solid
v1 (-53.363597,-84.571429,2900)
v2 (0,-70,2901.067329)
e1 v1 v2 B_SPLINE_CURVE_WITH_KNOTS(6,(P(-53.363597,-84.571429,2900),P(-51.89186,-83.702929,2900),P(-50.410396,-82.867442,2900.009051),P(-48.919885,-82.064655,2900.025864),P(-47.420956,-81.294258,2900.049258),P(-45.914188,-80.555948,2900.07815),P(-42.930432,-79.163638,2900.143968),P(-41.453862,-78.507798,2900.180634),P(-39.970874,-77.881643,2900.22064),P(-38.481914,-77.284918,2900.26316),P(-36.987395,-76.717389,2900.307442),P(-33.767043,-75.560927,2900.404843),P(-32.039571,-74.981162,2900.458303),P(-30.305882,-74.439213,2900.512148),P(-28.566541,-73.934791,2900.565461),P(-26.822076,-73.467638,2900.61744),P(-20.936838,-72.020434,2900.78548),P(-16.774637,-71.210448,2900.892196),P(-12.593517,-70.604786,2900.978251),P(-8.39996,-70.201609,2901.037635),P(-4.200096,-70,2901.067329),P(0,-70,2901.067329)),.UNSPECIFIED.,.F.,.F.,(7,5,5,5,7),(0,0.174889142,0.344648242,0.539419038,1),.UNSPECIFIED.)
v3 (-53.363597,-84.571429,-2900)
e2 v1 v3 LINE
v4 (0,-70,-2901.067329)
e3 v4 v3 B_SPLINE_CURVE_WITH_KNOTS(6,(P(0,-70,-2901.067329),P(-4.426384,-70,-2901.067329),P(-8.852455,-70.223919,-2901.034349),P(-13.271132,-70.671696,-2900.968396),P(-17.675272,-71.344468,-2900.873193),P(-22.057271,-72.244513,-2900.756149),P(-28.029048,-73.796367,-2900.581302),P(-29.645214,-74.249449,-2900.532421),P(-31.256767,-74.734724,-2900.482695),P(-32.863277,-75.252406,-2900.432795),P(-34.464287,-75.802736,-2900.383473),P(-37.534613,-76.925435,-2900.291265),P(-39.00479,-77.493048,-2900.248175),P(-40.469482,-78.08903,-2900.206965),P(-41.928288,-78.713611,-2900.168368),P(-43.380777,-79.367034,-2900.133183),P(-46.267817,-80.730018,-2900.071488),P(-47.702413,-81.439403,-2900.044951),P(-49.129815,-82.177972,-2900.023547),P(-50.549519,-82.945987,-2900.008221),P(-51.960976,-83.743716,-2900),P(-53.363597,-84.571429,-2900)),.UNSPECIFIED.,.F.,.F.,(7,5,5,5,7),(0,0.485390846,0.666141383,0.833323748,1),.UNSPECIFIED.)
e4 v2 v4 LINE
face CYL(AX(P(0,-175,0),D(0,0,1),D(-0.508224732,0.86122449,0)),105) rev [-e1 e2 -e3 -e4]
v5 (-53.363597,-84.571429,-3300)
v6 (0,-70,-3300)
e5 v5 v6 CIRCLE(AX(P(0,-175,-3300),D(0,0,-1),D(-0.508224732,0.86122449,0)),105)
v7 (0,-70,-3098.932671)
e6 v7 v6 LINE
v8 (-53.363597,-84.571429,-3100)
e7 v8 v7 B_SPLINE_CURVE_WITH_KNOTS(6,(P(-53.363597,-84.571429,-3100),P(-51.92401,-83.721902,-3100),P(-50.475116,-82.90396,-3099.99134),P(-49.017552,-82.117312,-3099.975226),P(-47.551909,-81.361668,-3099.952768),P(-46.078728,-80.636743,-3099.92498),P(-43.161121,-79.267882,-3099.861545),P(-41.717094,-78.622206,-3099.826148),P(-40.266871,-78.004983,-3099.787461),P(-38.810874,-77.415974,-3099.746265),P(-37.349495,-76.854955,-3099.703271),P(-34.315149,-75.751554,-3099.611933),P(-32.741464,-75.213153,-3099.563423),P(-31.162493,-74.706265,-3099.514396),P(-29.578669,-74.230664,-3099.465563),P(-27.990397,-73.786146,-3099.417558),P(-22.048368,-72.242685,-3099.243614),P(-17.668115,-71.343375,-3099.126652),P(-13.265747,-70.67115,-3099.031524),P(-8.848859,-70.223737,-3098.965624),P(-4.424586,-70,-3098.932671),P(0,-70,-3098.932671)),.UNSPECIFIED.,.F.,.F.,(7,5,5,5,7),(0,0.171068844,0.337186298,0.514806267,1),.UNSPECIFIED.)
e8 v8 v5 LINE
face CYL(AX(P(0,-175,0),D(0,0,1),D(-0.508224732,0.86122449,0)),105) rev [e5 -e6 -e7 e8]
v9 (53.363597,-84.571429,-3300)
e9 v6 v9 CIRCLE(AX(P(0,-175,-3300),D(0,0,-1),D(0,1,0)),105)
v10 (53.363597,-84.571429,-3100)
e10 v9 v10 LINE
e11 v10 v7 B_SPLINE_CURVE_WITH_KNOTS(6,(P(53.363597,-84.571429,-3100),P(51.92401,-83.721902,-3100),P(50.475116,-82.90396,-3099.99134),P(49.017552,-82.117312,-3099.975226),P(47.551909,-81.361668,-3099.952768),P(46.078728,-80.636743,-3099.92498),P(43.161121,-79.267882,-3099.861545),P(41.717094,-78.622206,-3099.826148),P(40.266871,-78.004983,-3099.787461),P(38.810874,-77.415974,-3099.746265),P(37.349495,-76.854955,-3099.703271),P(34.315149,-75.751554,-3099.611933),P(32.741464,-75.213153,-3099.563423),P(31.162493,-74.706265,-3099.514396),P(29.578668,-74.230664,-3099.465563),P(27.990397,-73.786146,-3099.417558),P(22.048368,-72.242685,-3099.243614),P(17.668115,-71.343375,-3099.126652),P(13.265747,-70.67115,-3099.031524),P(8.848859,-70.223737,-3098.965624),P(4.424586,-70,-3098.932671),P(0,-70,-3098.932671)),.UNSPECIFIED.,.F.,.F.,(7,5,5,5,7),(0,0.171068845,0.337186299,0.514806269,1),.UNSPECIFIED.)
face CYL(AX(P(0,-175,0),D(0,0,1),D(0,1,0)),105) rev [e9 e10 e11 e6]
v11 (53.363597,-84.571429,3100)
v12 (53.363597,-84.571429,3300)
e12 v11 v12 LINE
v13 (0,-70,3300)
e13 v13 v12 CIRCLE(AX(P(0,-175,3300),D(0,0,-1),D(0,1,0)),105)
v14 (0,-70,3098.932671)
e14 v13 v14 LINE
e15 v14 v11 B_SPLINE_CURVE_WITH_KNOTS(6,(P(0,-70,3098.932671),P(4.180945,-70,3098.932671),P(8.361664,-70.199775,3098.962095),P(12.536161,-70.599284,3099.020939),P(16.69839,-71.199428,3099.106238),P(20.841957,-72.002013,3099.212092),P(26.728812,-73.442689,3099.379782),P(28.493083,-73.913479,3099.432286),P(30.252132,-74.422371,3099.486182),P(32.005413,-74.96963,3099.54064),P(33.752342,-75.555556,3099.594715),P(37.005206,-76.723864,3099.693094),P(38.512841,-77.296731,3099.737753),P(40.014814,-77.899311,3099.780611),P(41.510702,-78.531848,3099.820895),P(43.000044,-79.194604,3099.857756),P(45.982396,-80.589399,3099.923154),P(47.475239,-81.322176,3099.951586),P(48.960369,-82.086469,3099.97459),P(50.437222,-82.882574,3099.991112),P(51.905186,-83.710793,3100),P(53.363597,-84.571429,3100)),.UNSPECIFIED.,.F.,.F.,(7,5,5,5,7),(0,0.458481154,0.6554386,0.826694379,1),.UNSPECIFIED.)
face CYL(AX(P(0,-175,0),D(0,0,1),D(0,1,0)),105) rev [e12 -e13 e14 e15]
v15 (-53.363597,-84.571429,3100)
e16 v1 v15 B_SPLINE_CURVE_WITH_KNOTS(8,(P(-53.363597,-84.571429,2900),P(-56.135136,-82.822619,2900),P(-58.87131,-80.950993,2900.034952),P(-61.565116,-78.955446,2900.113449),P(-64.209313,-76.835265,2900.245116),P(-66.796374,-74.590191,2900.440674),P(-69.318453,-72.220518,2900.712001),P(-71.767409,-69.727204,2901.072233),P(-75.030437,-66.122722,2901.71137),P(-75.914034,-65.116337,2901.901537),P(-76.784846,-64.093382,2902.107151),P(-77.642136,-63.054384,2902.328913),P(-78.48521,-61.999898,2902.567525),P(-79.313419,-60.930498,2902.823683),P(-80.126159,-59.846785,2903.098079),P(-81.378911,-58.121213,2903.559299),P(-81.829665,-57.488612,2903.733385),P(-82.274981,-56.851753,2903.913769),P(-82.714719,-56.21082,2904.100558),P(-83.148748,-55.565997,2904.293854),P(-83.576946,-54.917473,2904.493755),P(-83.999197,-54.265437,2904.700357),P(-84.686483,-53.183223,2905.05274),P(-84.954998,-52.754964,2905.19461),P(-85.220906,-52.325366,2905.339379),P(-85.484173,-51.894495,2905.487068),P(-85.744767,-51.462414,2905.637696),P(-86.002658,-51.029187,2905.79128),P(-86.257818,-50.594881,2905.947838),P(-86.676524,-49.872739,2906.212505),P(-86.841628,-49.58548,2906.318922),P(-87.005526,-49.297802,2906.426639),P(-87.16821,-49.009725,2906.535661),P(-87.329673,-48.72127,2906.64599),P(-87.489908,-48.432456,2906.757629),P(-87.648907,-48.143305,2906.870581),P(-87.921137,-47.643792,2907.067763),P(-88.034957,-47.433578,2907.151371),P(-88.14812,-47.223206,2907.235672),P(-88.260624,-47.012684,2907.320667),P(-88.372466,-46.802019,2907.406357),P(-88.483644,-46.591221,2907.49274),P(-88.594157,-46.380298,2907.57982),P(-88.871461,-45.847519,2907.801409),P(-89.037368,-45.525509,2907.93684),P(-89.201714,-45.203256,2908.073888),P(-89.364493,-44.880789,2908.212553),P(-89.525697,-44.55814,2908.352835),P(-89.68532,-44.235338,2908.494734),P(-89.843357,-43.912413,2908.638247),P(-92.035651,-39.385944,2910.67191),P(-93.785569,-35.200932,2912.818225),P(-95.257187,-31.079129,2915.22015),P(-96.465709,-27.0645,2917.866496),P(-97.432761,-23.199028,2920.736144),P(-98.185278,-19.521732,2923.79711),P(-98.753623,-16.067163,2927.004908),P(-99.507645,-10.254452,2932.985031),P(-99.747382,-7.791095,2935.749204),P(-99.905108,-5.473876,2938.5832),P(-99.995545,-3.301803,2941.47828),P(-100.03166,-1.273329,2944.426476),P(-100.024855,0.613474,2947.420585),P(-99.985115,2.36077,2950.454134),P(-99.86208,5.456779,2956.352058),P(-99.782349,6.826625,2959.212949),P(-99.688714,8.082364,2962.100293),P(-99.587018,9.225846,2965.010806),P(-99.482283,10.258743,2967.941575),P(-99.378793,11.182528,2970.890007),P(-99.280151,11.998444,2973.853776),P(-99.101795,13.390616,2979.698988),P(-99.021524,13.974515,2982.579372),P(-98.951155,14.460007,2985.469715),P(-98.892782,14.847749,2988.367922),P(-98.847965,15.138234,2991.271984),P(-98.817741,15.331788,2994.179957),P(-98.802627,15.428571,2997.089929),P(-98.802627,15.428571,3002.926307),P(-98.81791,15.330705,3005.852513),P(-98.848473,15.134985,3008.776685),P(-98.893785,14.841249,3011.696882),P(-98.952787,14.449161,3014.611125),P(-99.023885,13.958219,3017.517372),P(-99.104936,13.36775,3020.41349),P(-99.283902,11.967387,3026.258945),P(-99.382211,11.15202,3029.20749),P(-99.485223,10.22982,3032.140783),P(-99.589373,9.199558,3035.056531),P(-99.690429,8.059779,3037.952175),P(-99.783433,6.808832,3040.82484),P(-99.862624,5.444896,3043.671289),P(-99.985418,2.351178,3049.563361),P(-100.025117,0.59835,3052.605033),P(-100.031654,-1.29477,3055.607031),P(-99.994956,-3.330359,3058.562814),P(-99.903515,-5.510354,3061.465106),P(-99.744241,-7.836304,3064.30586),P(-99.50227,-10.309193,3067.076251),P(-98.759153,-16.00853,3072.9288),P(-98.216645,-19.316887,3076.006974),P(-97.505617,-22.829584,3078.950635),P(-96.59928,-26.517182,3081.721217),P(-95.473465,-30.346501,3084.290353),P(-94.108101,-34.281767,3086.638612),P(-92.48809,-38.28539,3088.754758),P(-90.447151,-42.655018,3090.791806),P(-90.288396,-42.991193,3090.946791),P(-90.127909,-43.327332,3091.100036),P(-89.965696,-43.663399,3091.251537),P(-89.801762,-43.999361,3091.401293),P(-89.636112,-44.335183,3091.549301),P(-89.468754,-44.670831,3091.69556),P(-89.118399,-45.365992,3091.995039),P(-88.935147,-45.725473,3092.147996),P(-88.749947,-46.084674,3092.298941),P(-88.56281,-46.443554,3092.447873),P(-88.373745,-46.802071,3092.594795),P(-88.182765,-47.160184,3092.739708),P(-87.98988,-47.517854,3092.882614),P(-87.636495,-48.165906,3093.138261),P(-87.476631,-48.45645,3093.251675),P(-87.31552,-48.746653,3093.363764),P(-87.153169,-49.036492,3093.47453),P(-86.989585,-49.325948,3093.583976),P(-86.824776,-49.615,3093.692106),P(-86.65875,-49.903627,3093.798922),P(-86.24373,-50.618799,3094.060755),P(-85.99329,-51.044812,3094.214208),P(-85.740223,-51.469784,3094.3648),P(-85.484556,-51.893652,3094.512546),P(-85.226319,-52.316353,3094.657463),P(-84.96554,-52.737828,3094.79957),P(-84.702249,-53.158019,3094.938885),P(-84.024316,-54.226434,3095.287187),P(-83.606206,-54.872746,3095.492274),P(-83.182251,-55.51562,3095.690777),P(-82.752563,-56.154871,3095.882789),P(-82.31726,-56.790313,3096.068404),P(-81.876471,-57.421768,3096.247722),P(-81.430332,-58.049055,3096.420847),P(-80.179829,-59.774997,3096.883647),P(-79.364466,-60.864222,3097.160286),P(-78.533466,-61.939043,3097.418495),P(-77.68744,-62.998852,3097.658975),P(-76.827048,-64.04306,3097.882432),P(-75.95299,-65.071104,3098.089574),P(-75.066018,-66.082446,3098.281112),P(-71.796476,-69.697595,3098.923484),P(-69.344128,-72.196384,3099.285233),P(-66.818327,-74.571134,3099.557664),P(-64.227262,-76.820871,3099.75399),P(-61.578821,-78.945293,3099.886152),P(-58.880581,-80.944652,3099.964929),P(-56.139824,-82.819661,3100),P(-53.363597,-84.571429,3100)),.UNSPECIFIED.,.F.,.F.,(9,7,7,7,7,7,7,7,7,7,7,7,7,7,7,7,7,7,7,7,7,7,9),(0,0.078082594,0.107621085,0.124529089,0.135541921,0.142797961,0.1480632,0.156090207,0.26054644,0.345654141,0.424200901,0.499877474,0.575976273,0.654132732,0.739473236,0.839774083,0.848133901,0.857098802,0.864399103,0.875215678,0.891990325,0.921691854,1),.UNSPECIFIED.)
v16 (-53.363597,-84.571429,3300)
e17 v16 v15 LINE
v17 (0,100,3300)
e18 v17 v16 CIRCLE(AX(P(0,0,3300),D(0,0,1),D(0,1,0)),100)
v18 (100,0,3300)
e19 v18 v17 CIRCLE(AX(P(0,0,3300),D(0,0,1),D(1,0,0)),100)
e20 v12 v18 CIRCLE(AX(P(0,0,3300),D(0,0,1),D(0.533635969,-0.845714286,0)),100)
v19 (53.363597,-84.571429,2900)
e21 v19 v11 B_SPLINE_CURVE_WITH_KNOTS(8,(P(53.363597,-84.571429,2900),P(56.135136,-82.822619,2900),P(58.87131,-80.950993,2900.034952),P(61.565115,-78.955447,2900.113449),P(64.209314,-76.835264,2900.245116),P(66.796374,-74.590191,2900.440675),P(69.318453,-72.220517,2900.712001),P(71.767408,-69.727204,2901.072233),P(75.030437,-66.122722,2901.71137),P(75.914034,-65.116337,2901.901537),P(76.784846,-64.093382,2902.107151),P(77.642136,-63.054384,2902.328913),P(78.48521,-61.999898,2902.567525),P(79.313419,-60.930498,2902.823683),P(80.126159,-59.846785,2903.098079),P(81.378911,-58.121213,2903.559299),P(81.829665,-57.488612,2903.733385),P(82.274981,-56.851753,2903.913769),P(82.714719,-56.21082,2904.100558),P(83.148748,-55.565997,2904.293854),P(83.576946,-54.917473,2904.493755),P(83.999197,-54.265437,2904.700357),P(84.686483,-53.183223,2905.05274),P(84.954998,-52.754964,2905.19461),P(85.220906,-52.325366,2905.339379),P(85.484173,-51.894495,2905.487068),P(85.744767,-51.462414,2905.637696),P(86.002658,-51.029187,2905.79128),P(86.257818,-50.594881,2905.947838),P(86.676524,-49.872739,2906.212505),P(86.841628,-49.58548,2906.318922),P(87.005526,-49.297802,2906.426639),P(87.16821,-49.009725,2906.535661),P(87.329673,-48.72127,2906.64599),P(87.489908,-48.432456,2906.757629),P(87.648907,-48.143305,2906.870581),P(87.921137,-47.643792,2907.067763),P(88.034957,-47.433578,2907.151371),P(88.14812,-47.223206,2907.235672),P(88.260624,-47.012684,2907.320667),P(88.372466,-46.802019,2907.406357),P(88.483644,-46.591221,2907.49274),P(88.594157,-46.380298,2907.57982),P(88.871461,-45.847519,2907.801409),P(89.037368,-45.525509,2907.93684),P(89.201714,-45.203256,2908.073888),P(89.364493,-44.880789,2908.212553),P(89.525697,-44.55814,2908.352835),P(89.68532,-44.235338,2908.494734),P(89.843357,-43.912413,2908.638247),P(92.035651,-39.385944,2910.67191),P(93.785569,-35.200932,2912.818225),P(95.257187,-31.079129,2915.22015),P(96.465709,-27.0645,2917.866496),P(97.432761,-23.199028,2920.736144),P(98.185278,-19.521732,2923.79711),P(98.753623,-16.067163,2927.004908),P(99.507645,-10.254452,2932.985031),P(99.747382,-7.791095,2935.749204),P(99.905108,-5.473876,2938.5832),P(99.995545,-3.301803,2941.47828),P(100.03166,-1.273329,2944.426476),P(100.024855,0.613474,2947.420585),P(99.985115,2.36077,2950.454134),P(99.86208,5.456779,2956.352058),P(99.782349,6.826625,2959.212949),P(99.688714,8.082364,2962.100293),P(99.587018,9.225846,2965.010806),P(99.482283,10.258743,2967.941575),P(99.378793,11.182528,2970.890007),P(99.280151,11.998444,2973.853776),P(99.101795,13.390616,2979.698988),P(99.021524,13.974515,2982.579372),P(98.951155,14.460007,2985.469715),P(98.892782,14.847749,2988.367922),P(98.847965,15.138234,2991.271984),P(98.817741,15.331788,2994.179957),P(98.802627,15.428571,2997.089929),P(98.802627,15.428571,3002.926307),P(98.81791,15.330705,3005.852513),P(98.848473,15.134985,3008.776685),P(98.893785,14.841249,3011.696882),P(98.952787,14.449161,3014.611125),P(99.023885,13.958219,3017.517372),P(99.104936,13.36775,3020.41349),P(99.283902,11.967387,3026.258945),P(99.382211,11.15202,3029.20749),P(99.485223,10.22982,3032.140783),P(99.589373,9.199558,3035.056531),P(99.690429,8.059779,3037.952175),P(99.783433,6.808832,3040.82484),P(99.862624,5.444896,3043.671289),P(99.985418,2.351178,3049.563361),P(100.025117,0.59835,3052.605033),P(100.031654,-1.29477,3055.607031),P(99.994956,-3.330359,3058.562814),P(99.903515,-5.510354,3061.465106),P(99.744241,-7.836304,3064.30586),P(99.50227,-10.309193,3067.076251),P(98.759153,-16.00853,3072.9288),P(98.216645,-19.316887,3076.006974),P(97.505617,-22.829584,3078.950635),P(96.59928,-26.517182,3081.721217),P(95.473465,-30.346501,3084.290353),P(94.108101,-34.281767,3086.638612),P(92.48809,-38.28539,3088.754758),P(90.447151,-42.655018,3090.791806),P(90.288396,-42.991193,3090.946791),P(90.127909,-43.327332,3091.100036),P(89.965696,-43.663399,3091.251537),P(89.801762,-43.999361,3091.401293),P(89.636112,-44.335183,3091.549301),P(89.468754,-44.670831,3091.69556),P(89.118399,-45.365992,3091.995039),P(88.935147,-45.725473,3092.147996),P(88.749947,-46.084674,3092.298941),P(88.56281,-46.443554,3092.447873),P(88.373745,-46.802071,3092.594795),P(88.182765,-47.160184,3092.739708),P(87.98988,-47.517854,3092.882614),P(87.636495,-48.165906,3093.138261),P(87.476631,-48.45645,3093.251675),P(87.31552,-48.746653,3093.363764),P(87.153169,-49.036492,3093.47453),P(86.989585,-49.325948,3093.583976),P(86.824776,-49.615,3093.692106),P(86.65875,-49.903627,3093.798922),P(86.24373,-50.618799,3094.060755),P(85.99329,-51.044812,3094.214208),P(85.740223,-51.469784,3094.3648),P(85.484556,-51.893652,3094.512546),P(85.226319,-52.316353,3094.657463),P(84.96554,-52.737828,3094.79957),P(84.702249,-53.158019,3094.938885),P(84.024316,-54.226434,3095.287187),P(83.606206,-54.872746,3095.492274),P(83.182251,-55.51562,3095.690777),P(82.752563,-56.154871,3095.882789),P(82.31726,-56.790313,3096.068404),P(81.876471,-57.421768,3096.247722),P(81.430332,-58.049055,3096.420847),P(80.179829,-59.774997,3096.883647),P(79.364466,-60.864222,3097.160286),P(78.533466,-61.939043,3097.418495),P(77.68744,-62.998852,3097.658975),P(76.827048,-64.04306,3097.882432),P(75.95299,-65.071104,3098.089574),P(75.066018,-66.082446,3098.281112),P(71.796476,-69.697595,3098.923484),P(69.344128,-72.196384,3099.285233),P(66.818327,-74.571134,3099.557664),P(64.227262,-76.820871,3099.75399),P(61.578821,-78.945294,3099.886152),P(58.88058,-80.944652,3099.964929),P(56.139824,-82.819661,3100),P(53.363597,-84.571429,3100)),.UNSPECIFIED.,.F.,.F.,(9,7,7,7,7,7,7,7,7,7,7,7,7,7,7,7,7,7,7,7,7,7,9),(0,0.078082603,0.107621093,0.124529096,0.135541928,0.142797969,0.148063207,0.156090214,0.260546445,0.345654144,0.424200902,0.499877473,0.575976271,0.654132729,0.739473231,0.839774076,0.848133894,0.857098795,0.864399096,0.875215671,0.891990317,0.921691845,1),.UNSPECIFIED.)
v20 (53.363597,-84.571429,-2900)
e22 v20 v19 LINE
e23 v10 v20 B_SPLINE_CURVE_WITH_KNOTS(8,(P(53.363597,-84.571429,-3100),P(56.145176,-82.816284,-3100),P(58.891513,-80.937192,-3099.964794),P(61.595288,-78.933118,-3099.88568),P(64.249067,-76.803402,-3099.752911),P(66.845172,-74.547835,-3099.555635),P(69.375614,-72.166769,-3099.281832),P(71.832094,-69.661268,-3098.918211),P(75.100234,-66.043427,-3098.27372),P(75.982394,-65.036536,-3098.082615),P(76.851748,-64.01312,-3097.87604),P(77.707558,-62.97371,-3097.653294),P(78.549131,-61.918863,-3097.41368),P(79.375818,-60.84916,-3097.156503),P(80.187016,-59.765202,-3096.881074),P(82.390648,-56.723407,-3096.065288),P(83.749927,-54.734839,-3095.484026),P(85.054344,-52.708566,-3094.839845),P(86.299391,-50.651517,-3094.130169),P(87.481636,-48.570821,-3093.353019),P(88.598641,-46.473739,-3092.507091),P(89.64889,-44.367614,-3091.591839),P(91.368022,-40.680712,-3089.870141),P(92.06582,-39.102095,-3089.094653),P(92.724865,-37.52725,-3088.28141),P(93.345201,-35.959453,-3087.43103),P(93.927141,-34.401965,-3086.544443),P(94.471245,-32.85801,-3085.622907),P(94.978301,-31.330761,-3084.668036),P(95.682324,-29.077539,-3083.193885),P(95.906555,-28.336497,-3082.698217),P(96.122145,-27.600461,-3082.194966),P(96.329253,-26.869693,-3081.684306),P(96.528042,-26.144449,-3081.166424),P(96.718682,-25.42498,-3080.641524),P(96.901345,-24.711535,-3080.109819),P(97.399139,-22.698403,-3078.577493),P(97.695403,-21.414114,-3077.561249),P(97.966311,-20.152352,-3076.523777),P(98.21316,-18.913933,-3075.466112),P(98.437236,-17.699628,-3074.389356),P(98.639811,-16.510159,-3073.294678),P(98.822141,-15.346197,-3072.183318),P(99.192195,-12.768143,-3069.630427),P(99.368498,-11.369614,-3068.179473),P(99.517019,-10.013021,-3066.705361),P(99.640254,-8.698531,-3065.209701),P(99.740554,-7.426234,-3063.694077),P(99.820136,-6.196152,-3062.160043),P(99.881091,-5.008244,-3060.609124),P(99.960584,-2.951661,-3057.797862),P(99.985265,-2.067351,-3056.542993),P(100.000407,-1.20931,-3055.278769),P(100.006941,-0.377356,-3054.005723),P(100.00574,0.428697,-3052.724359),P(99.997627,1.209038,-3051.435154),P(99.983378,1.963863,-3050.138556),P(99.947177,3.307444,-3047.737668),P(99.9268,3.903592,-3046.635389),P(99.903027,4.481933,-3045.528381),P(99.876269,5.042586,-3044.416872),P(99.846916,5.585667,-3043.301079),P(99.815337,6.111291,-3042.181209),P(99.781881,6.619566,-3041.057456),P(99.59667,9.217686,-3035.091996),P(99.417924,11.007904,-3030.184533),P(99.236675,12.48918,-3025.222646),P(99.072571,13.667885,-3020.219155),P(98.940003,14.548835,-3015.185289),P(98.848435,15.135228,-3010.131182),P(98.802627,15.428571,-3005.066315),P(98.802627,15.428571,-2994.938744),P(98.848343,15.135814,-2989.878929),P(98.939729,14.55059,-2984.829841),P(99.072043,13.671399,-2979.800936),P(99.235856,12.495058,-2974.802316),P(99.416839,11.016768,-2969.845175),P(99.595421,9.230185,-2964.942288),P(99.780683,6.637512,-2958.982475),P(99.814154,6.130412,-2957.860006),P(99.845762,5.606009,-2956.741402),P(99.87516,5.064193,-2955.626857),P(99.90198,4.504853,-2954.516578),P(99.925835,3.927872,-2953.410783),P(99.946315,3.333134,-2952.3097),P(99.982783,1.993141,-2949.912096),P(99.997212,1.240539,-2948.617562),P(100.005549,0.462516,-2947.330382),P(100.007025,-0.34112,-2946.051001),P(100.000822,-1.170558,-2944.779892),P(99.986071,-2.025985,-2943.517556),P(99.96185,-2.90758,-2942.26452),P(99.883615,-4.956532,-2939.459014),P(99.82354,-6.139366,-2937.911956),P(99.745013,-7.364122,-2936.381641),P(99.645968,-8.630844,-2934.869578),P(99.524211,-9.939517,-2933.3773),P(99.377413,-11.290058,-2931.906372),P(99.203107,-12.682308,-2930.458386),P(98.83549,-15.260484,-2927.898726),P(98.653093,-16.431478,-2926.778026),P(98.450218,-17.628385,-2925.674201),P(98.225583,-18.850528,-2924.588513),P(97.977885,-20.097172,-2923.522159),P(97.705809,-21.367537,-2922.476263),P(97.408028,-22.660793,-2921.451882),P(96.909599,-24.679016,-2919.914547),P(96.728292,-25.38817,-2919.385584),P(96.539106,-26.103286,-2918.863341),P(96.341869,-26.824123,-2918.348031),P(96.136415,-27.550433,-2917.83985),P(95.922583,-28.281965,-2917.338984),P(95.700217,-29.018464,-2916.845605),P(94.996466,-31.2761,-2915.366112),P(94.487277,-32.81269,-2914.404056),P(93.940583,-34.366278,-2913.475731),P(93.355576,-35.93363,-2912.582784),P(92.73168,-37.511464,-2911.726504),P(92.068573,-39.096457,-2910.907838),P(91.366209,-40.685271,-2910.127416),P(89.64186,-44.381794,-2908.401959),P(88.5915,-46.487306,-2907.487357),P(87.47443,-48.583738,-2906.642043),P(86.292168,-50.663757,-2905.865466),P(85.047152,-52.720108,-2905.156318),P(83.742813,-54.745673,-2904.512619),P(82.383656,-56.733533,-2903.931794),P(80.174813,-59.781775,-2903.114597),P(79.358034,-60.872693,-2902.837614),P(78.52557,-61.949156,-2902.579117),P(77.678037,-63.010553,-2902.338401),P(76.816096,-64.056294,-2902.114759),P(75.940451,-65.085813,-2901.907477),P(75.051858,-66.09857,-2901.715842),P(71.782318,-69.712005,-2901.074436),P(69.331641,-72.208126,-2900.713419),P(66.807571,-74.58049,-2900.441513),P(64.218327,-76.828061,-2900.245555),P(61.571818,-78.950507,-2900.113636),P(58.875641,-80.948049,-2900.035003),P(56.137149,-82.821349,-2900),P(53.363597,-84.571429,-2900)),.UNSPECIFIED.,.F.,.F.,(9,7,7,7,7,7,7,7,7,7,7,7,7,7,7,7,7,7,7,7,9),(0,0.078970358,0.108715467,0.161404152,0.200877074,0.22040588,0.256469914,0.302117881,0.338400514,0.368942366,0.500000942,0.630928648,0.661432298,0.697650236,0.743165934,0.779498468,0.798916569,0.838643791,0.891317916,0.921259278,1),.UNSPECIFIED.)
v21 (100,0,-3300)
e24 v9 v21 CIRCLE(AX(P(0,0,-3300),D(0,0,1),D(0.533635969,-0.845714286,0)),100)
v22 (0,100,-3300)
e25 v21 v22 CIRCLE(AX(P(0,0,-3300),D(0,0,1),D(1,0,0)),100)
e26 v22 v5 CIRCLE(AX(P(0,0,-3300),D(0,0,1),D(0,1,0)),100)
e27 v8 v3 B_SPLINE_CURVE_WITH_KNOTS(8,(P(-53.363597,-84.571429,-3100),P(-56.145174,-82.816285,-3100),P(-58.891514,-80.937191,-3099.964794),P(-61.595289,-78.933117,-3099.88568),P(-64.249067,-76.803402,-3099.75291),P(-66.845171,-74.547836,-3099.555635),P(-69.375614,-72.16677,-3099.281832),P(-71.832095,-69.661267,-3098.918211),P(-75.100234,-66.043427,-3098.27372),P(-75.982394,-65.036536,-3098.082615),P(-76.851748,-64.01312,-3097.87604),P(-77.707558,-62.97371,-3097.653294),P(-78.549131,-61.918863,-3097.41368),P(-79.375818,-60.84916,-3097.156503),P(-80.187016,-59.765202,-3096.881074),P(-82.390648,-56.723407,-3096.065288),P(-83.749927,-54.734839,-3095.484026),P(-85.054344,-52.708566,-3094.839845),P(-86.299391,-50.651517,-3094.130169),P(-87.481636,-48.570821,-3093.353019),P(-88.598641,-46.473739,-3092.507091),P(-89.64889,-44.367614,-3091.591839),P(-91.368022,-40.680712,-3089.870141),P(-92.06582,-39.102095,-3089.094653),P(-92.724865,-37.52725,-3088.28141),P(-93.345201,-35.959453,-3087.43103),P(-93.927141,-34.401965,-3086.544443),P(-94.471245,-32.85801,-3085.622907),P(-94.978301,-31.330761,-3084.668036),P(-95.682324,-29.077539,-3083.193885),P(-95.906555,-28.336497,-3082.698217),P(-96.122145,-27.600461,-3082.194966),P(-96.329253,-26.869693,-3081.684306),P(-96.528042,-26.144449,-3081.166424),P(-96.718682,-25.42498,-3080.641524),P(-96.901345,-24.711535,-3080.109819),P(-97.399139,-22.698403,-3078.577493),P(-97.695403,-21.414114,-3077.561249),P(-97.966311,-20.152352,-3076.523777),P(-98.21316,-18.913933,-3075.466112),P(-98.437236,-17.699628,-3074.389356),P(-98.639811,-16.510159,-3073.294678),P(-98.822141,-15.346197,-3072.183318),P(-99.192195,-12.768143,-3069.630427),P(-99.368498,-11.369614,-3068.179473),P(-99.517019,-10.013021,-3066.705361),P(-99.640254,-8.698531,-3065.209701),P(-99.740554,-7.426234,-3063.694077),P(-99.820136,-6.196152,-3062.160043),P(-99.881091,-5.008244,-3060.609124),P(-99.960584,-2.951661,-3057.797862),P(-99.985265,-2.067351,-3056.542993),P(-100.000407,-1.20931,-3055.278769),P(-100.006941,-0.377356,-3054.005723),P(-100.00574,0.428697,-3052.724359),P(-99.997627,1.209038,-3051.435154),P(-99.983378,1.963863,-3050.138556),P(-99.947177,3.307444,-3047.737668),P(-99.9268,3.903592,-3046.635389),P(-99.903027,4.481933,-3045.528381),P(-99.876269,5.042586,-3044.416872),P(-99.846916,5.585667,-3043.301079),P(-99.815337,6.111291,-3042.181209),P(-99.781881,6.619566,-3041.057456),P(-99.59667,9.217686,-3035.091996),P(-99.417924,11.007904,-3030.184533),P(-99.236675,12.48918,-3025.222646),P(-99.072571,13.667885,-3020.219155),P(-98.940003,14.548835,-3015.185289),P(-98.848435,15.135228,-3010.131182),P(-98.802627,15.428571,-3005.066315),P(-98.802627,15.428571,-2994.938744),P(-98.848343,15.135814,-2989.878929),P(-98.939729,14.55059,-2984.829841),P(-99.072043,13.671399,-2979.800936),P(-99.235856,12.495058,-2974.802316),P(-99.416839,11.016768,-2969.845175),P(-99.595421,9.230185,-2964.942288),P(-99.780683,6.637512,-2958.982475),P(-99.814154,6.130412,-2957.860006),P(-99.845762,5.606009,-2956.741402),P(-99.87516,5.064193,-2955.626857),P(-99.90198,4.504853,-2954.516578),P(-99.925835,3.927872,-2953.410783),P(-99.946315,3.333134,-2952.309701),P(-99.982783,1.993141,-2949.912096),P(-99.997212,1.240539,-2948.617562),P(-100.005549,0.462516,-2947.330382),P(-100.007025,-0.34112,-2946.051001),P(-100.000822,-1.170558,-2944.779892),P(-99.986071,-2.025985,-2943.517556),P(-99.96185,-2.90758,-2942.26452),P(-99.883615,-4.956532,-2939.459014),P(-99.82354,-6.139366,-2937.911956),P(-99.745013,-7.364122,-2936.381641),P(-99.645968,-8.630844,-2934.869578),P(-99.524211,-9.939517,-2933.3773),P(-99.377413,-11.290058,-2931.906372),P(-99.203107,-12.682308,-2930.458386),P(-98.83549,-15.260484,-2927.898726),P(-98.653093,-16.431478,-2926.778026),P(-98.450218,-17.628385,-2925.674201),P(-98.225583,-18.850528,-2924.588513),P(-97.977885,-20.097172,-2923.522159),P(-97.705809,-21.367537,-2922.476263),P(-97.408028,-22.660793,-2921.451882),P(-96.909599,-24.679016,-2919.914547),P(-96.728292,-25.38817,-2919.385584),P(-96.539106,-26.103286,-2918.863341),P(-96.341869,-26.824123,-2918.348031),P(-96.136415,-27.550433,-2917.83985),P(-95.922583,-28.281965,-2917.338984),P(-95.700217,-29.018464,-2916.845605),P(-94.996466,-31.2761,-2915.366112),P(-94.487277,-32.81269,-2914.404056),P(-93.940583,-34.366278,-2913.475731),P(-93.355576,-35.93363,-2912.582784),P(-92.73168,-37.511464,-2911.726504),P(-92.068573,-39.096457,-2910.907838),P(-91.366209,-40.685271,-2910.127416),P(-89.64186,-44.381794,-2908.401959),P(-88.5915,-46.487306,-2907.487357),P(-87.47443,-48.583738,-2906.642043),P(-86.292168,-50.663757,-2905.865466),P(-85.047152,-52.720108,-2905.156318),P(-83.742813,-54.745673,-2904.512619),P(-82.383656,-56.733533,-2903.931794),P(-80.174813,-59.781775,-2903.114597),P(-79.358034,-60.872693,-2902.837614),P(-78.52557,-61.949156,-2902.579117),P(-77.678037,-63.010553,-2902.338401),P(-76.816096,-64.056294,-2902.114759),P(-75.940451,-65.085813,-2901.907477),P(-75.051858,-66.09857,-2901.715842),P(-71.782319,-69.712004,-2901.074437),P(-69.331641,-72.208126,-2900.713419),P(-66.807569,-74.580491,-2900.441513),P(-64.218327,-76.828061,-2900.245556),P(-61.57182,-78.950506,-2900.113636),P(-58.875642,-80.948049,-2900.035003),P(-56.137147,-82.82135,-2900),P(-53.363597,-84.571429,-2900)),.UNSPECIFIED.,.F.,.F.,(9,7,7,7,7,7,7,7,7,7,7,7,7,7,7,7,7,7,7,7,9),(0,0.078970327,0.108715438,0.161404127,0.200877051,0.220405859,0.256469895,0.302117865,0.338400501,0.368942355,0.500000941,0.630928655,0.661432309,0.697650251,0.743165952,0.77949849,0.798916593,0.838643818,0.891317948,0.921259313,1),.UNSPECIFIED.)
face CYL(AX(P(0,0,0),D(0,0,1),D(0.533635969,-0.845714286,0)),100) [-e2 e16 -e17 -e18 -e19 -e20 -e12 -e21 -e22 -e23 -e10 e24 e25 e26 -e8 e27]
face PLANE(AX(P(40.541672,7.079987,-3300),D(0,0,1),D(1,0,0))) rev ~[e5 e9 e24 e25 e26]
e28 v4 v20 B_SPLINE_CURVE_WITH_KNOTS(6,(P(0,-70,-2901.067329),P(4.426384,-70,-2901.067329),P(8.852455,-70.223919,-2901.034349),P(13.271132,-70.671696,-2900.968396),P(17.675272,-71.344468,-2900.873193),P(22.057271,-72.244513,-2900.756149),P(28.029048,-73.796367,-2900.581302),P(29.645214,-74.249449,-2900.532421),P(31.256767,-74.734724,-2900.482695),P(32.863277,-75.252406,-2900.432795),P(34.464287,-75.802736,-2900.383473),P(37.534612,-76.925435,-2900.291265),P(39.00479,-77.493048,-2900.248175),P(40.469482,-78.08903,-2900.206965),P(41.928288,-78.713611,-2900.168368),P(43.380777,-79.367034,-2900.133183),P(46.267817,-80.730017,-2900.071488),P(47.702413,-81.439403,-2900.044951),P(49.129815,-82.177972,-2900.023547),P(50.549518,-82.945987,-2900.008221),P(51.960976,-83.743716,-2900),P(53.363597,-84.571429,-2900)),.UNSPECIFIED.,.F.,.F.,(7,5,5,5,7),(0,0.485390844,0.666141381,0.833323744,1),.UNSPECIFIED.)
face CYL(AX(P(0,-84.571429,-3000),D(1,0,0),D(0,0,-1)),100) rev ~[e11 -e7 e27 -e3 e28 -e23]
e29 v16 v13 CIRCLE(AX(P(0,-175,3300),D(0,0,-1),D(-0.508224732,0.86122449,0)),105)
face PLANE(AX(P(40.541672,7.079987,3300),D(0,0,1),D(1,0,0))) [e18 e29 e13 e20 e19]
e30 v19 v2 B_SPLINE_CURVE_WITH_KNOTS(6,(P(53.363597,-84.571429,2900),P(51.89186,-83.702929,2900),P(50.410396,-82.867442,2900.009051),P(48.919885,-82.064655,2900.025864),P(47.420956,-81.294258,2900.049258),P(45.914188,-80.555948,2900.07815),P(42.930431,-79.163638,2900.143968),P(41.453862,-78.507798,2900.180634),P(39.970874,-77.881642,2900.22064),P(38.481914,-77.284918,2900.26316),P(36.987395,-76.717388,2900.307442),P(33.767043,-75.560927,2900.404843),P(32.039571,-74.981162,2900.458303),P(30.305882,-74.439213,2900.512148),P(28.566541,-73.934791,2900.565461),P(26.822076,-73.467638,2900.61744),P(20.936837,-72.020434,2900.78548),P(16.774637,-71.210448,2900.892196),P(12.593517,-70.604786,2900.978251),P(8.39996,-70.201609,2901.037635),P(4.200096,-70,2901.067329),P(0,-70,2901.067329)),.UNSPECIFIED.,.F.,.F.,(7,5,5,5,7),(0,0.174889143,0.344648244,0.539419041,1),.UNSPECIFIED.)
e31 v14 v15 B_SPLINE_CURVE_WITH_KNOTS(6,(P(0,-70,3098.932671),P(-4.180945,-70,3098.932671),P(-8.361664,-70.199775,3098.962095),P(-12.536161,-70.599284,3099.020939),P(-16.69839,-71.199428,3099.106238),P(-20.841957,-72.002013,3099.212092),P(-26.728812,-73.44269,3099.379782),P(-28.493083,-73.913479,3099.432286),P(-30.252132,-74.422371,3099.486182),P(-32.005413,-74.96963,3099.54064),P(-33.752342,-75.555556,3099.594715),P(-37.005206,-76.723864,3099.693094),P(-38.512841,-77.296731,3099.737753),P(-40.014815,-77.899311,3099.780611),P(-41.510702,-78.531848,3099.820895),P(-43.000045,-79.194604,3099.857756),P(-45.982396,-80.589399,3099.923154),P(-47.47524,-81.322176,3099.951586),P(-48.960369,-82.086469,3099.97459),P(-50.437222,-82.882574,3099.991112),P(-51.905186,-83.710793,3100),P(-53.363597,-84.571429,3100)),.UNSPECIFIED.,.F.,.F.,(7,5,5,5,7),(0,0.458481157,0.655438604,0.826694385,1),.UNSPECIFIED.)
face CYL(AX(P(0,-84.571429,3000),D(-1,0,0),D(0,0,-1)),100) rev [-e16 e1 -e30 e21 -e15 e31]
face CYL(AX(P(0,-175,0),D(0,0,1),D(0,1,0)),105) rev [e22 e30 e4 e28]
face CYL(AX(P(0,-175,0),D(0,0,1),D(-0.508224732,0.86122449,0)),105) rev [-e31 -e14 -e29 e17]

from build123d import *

# Parameters (mm, degrees)
EXTRUDE_1_DEPTH     = 3300
SKETCH_2_R          = 100
CUT_EXTRUDE_1_DEPTH = 3000


with BuildPart() as part:
    # Эскиз1 → Бобышка-Вытянуть1 (new, symmetric)
    with BuildSketch(Plane.XY):
        with BuildLine():
            ThreePointArc((100, 0), (70.710678119, 70.710678119), (0, 100))
            Line((0, 100), (0, -70))
            ThreePointArc((0, -70), (27.658633372, -73.708341903), (53.363596856, -84.571428571))
            ThreePointArc((53.363596856, -84.571428571), (87.568143995, -48.288923753), (100, 0))
        make_face()
        with BuildLine():
            Line((0, -70), (0, 100))
            ThreePointArc((0, 100), (-96.065453877, 27.774602993), (-53.363596856, -84.571428571))
            ThreePointArc((-53.363596856, -84.571428571), (-27.658633372, -73.708341903), (0, -70))
        make_face()
        with BuildLine():
            ThreePointArc((100, 0), (70.710678119, 70.710678119), (0, 100))
            Line((0, 100), (0, -70))
            ThreePointArc((0, -70), (27.658633372, -73.708341903), (53.363596856, -84.571428571))
            ThreePointArc((53.363596856, -84.571428571), (87.568143995, -48.288923753), (100, 0))
        make_face()
        with BuildLine():
            Line((0, -70), (0, 100))
            ThreePointArc((0, 100), (-96.065453877, 27.774602993), (-53.363596856, -84.571428571))
            ThreePointArc((-53.363596856, -84.571428571), (-27.658633372, -73.708341903), (0, -70))
        make_face()
    extrude(amount=EXTRUDE_1_DEPTH, both=True)

    # Эскиз2 → Вырез-Вытянуть1 (cut, symmetric)
    with BuildSketch(Plane(origin=(0, 0, 0), x_dir=(0, 0, -1), z_dir=(1, 0, 0))):
        with Locations((-3000, -84.571428571)):
            Circle(SKETCH_2_R)
        with Locations((3000, -84.571428571)):
            Circle(SKETCH_2_R)
    extrude(amount=CUT_EXTRUDE_1_DEPTH, both=True, mode=Mode.SUBTRACT)


solid = part.part
